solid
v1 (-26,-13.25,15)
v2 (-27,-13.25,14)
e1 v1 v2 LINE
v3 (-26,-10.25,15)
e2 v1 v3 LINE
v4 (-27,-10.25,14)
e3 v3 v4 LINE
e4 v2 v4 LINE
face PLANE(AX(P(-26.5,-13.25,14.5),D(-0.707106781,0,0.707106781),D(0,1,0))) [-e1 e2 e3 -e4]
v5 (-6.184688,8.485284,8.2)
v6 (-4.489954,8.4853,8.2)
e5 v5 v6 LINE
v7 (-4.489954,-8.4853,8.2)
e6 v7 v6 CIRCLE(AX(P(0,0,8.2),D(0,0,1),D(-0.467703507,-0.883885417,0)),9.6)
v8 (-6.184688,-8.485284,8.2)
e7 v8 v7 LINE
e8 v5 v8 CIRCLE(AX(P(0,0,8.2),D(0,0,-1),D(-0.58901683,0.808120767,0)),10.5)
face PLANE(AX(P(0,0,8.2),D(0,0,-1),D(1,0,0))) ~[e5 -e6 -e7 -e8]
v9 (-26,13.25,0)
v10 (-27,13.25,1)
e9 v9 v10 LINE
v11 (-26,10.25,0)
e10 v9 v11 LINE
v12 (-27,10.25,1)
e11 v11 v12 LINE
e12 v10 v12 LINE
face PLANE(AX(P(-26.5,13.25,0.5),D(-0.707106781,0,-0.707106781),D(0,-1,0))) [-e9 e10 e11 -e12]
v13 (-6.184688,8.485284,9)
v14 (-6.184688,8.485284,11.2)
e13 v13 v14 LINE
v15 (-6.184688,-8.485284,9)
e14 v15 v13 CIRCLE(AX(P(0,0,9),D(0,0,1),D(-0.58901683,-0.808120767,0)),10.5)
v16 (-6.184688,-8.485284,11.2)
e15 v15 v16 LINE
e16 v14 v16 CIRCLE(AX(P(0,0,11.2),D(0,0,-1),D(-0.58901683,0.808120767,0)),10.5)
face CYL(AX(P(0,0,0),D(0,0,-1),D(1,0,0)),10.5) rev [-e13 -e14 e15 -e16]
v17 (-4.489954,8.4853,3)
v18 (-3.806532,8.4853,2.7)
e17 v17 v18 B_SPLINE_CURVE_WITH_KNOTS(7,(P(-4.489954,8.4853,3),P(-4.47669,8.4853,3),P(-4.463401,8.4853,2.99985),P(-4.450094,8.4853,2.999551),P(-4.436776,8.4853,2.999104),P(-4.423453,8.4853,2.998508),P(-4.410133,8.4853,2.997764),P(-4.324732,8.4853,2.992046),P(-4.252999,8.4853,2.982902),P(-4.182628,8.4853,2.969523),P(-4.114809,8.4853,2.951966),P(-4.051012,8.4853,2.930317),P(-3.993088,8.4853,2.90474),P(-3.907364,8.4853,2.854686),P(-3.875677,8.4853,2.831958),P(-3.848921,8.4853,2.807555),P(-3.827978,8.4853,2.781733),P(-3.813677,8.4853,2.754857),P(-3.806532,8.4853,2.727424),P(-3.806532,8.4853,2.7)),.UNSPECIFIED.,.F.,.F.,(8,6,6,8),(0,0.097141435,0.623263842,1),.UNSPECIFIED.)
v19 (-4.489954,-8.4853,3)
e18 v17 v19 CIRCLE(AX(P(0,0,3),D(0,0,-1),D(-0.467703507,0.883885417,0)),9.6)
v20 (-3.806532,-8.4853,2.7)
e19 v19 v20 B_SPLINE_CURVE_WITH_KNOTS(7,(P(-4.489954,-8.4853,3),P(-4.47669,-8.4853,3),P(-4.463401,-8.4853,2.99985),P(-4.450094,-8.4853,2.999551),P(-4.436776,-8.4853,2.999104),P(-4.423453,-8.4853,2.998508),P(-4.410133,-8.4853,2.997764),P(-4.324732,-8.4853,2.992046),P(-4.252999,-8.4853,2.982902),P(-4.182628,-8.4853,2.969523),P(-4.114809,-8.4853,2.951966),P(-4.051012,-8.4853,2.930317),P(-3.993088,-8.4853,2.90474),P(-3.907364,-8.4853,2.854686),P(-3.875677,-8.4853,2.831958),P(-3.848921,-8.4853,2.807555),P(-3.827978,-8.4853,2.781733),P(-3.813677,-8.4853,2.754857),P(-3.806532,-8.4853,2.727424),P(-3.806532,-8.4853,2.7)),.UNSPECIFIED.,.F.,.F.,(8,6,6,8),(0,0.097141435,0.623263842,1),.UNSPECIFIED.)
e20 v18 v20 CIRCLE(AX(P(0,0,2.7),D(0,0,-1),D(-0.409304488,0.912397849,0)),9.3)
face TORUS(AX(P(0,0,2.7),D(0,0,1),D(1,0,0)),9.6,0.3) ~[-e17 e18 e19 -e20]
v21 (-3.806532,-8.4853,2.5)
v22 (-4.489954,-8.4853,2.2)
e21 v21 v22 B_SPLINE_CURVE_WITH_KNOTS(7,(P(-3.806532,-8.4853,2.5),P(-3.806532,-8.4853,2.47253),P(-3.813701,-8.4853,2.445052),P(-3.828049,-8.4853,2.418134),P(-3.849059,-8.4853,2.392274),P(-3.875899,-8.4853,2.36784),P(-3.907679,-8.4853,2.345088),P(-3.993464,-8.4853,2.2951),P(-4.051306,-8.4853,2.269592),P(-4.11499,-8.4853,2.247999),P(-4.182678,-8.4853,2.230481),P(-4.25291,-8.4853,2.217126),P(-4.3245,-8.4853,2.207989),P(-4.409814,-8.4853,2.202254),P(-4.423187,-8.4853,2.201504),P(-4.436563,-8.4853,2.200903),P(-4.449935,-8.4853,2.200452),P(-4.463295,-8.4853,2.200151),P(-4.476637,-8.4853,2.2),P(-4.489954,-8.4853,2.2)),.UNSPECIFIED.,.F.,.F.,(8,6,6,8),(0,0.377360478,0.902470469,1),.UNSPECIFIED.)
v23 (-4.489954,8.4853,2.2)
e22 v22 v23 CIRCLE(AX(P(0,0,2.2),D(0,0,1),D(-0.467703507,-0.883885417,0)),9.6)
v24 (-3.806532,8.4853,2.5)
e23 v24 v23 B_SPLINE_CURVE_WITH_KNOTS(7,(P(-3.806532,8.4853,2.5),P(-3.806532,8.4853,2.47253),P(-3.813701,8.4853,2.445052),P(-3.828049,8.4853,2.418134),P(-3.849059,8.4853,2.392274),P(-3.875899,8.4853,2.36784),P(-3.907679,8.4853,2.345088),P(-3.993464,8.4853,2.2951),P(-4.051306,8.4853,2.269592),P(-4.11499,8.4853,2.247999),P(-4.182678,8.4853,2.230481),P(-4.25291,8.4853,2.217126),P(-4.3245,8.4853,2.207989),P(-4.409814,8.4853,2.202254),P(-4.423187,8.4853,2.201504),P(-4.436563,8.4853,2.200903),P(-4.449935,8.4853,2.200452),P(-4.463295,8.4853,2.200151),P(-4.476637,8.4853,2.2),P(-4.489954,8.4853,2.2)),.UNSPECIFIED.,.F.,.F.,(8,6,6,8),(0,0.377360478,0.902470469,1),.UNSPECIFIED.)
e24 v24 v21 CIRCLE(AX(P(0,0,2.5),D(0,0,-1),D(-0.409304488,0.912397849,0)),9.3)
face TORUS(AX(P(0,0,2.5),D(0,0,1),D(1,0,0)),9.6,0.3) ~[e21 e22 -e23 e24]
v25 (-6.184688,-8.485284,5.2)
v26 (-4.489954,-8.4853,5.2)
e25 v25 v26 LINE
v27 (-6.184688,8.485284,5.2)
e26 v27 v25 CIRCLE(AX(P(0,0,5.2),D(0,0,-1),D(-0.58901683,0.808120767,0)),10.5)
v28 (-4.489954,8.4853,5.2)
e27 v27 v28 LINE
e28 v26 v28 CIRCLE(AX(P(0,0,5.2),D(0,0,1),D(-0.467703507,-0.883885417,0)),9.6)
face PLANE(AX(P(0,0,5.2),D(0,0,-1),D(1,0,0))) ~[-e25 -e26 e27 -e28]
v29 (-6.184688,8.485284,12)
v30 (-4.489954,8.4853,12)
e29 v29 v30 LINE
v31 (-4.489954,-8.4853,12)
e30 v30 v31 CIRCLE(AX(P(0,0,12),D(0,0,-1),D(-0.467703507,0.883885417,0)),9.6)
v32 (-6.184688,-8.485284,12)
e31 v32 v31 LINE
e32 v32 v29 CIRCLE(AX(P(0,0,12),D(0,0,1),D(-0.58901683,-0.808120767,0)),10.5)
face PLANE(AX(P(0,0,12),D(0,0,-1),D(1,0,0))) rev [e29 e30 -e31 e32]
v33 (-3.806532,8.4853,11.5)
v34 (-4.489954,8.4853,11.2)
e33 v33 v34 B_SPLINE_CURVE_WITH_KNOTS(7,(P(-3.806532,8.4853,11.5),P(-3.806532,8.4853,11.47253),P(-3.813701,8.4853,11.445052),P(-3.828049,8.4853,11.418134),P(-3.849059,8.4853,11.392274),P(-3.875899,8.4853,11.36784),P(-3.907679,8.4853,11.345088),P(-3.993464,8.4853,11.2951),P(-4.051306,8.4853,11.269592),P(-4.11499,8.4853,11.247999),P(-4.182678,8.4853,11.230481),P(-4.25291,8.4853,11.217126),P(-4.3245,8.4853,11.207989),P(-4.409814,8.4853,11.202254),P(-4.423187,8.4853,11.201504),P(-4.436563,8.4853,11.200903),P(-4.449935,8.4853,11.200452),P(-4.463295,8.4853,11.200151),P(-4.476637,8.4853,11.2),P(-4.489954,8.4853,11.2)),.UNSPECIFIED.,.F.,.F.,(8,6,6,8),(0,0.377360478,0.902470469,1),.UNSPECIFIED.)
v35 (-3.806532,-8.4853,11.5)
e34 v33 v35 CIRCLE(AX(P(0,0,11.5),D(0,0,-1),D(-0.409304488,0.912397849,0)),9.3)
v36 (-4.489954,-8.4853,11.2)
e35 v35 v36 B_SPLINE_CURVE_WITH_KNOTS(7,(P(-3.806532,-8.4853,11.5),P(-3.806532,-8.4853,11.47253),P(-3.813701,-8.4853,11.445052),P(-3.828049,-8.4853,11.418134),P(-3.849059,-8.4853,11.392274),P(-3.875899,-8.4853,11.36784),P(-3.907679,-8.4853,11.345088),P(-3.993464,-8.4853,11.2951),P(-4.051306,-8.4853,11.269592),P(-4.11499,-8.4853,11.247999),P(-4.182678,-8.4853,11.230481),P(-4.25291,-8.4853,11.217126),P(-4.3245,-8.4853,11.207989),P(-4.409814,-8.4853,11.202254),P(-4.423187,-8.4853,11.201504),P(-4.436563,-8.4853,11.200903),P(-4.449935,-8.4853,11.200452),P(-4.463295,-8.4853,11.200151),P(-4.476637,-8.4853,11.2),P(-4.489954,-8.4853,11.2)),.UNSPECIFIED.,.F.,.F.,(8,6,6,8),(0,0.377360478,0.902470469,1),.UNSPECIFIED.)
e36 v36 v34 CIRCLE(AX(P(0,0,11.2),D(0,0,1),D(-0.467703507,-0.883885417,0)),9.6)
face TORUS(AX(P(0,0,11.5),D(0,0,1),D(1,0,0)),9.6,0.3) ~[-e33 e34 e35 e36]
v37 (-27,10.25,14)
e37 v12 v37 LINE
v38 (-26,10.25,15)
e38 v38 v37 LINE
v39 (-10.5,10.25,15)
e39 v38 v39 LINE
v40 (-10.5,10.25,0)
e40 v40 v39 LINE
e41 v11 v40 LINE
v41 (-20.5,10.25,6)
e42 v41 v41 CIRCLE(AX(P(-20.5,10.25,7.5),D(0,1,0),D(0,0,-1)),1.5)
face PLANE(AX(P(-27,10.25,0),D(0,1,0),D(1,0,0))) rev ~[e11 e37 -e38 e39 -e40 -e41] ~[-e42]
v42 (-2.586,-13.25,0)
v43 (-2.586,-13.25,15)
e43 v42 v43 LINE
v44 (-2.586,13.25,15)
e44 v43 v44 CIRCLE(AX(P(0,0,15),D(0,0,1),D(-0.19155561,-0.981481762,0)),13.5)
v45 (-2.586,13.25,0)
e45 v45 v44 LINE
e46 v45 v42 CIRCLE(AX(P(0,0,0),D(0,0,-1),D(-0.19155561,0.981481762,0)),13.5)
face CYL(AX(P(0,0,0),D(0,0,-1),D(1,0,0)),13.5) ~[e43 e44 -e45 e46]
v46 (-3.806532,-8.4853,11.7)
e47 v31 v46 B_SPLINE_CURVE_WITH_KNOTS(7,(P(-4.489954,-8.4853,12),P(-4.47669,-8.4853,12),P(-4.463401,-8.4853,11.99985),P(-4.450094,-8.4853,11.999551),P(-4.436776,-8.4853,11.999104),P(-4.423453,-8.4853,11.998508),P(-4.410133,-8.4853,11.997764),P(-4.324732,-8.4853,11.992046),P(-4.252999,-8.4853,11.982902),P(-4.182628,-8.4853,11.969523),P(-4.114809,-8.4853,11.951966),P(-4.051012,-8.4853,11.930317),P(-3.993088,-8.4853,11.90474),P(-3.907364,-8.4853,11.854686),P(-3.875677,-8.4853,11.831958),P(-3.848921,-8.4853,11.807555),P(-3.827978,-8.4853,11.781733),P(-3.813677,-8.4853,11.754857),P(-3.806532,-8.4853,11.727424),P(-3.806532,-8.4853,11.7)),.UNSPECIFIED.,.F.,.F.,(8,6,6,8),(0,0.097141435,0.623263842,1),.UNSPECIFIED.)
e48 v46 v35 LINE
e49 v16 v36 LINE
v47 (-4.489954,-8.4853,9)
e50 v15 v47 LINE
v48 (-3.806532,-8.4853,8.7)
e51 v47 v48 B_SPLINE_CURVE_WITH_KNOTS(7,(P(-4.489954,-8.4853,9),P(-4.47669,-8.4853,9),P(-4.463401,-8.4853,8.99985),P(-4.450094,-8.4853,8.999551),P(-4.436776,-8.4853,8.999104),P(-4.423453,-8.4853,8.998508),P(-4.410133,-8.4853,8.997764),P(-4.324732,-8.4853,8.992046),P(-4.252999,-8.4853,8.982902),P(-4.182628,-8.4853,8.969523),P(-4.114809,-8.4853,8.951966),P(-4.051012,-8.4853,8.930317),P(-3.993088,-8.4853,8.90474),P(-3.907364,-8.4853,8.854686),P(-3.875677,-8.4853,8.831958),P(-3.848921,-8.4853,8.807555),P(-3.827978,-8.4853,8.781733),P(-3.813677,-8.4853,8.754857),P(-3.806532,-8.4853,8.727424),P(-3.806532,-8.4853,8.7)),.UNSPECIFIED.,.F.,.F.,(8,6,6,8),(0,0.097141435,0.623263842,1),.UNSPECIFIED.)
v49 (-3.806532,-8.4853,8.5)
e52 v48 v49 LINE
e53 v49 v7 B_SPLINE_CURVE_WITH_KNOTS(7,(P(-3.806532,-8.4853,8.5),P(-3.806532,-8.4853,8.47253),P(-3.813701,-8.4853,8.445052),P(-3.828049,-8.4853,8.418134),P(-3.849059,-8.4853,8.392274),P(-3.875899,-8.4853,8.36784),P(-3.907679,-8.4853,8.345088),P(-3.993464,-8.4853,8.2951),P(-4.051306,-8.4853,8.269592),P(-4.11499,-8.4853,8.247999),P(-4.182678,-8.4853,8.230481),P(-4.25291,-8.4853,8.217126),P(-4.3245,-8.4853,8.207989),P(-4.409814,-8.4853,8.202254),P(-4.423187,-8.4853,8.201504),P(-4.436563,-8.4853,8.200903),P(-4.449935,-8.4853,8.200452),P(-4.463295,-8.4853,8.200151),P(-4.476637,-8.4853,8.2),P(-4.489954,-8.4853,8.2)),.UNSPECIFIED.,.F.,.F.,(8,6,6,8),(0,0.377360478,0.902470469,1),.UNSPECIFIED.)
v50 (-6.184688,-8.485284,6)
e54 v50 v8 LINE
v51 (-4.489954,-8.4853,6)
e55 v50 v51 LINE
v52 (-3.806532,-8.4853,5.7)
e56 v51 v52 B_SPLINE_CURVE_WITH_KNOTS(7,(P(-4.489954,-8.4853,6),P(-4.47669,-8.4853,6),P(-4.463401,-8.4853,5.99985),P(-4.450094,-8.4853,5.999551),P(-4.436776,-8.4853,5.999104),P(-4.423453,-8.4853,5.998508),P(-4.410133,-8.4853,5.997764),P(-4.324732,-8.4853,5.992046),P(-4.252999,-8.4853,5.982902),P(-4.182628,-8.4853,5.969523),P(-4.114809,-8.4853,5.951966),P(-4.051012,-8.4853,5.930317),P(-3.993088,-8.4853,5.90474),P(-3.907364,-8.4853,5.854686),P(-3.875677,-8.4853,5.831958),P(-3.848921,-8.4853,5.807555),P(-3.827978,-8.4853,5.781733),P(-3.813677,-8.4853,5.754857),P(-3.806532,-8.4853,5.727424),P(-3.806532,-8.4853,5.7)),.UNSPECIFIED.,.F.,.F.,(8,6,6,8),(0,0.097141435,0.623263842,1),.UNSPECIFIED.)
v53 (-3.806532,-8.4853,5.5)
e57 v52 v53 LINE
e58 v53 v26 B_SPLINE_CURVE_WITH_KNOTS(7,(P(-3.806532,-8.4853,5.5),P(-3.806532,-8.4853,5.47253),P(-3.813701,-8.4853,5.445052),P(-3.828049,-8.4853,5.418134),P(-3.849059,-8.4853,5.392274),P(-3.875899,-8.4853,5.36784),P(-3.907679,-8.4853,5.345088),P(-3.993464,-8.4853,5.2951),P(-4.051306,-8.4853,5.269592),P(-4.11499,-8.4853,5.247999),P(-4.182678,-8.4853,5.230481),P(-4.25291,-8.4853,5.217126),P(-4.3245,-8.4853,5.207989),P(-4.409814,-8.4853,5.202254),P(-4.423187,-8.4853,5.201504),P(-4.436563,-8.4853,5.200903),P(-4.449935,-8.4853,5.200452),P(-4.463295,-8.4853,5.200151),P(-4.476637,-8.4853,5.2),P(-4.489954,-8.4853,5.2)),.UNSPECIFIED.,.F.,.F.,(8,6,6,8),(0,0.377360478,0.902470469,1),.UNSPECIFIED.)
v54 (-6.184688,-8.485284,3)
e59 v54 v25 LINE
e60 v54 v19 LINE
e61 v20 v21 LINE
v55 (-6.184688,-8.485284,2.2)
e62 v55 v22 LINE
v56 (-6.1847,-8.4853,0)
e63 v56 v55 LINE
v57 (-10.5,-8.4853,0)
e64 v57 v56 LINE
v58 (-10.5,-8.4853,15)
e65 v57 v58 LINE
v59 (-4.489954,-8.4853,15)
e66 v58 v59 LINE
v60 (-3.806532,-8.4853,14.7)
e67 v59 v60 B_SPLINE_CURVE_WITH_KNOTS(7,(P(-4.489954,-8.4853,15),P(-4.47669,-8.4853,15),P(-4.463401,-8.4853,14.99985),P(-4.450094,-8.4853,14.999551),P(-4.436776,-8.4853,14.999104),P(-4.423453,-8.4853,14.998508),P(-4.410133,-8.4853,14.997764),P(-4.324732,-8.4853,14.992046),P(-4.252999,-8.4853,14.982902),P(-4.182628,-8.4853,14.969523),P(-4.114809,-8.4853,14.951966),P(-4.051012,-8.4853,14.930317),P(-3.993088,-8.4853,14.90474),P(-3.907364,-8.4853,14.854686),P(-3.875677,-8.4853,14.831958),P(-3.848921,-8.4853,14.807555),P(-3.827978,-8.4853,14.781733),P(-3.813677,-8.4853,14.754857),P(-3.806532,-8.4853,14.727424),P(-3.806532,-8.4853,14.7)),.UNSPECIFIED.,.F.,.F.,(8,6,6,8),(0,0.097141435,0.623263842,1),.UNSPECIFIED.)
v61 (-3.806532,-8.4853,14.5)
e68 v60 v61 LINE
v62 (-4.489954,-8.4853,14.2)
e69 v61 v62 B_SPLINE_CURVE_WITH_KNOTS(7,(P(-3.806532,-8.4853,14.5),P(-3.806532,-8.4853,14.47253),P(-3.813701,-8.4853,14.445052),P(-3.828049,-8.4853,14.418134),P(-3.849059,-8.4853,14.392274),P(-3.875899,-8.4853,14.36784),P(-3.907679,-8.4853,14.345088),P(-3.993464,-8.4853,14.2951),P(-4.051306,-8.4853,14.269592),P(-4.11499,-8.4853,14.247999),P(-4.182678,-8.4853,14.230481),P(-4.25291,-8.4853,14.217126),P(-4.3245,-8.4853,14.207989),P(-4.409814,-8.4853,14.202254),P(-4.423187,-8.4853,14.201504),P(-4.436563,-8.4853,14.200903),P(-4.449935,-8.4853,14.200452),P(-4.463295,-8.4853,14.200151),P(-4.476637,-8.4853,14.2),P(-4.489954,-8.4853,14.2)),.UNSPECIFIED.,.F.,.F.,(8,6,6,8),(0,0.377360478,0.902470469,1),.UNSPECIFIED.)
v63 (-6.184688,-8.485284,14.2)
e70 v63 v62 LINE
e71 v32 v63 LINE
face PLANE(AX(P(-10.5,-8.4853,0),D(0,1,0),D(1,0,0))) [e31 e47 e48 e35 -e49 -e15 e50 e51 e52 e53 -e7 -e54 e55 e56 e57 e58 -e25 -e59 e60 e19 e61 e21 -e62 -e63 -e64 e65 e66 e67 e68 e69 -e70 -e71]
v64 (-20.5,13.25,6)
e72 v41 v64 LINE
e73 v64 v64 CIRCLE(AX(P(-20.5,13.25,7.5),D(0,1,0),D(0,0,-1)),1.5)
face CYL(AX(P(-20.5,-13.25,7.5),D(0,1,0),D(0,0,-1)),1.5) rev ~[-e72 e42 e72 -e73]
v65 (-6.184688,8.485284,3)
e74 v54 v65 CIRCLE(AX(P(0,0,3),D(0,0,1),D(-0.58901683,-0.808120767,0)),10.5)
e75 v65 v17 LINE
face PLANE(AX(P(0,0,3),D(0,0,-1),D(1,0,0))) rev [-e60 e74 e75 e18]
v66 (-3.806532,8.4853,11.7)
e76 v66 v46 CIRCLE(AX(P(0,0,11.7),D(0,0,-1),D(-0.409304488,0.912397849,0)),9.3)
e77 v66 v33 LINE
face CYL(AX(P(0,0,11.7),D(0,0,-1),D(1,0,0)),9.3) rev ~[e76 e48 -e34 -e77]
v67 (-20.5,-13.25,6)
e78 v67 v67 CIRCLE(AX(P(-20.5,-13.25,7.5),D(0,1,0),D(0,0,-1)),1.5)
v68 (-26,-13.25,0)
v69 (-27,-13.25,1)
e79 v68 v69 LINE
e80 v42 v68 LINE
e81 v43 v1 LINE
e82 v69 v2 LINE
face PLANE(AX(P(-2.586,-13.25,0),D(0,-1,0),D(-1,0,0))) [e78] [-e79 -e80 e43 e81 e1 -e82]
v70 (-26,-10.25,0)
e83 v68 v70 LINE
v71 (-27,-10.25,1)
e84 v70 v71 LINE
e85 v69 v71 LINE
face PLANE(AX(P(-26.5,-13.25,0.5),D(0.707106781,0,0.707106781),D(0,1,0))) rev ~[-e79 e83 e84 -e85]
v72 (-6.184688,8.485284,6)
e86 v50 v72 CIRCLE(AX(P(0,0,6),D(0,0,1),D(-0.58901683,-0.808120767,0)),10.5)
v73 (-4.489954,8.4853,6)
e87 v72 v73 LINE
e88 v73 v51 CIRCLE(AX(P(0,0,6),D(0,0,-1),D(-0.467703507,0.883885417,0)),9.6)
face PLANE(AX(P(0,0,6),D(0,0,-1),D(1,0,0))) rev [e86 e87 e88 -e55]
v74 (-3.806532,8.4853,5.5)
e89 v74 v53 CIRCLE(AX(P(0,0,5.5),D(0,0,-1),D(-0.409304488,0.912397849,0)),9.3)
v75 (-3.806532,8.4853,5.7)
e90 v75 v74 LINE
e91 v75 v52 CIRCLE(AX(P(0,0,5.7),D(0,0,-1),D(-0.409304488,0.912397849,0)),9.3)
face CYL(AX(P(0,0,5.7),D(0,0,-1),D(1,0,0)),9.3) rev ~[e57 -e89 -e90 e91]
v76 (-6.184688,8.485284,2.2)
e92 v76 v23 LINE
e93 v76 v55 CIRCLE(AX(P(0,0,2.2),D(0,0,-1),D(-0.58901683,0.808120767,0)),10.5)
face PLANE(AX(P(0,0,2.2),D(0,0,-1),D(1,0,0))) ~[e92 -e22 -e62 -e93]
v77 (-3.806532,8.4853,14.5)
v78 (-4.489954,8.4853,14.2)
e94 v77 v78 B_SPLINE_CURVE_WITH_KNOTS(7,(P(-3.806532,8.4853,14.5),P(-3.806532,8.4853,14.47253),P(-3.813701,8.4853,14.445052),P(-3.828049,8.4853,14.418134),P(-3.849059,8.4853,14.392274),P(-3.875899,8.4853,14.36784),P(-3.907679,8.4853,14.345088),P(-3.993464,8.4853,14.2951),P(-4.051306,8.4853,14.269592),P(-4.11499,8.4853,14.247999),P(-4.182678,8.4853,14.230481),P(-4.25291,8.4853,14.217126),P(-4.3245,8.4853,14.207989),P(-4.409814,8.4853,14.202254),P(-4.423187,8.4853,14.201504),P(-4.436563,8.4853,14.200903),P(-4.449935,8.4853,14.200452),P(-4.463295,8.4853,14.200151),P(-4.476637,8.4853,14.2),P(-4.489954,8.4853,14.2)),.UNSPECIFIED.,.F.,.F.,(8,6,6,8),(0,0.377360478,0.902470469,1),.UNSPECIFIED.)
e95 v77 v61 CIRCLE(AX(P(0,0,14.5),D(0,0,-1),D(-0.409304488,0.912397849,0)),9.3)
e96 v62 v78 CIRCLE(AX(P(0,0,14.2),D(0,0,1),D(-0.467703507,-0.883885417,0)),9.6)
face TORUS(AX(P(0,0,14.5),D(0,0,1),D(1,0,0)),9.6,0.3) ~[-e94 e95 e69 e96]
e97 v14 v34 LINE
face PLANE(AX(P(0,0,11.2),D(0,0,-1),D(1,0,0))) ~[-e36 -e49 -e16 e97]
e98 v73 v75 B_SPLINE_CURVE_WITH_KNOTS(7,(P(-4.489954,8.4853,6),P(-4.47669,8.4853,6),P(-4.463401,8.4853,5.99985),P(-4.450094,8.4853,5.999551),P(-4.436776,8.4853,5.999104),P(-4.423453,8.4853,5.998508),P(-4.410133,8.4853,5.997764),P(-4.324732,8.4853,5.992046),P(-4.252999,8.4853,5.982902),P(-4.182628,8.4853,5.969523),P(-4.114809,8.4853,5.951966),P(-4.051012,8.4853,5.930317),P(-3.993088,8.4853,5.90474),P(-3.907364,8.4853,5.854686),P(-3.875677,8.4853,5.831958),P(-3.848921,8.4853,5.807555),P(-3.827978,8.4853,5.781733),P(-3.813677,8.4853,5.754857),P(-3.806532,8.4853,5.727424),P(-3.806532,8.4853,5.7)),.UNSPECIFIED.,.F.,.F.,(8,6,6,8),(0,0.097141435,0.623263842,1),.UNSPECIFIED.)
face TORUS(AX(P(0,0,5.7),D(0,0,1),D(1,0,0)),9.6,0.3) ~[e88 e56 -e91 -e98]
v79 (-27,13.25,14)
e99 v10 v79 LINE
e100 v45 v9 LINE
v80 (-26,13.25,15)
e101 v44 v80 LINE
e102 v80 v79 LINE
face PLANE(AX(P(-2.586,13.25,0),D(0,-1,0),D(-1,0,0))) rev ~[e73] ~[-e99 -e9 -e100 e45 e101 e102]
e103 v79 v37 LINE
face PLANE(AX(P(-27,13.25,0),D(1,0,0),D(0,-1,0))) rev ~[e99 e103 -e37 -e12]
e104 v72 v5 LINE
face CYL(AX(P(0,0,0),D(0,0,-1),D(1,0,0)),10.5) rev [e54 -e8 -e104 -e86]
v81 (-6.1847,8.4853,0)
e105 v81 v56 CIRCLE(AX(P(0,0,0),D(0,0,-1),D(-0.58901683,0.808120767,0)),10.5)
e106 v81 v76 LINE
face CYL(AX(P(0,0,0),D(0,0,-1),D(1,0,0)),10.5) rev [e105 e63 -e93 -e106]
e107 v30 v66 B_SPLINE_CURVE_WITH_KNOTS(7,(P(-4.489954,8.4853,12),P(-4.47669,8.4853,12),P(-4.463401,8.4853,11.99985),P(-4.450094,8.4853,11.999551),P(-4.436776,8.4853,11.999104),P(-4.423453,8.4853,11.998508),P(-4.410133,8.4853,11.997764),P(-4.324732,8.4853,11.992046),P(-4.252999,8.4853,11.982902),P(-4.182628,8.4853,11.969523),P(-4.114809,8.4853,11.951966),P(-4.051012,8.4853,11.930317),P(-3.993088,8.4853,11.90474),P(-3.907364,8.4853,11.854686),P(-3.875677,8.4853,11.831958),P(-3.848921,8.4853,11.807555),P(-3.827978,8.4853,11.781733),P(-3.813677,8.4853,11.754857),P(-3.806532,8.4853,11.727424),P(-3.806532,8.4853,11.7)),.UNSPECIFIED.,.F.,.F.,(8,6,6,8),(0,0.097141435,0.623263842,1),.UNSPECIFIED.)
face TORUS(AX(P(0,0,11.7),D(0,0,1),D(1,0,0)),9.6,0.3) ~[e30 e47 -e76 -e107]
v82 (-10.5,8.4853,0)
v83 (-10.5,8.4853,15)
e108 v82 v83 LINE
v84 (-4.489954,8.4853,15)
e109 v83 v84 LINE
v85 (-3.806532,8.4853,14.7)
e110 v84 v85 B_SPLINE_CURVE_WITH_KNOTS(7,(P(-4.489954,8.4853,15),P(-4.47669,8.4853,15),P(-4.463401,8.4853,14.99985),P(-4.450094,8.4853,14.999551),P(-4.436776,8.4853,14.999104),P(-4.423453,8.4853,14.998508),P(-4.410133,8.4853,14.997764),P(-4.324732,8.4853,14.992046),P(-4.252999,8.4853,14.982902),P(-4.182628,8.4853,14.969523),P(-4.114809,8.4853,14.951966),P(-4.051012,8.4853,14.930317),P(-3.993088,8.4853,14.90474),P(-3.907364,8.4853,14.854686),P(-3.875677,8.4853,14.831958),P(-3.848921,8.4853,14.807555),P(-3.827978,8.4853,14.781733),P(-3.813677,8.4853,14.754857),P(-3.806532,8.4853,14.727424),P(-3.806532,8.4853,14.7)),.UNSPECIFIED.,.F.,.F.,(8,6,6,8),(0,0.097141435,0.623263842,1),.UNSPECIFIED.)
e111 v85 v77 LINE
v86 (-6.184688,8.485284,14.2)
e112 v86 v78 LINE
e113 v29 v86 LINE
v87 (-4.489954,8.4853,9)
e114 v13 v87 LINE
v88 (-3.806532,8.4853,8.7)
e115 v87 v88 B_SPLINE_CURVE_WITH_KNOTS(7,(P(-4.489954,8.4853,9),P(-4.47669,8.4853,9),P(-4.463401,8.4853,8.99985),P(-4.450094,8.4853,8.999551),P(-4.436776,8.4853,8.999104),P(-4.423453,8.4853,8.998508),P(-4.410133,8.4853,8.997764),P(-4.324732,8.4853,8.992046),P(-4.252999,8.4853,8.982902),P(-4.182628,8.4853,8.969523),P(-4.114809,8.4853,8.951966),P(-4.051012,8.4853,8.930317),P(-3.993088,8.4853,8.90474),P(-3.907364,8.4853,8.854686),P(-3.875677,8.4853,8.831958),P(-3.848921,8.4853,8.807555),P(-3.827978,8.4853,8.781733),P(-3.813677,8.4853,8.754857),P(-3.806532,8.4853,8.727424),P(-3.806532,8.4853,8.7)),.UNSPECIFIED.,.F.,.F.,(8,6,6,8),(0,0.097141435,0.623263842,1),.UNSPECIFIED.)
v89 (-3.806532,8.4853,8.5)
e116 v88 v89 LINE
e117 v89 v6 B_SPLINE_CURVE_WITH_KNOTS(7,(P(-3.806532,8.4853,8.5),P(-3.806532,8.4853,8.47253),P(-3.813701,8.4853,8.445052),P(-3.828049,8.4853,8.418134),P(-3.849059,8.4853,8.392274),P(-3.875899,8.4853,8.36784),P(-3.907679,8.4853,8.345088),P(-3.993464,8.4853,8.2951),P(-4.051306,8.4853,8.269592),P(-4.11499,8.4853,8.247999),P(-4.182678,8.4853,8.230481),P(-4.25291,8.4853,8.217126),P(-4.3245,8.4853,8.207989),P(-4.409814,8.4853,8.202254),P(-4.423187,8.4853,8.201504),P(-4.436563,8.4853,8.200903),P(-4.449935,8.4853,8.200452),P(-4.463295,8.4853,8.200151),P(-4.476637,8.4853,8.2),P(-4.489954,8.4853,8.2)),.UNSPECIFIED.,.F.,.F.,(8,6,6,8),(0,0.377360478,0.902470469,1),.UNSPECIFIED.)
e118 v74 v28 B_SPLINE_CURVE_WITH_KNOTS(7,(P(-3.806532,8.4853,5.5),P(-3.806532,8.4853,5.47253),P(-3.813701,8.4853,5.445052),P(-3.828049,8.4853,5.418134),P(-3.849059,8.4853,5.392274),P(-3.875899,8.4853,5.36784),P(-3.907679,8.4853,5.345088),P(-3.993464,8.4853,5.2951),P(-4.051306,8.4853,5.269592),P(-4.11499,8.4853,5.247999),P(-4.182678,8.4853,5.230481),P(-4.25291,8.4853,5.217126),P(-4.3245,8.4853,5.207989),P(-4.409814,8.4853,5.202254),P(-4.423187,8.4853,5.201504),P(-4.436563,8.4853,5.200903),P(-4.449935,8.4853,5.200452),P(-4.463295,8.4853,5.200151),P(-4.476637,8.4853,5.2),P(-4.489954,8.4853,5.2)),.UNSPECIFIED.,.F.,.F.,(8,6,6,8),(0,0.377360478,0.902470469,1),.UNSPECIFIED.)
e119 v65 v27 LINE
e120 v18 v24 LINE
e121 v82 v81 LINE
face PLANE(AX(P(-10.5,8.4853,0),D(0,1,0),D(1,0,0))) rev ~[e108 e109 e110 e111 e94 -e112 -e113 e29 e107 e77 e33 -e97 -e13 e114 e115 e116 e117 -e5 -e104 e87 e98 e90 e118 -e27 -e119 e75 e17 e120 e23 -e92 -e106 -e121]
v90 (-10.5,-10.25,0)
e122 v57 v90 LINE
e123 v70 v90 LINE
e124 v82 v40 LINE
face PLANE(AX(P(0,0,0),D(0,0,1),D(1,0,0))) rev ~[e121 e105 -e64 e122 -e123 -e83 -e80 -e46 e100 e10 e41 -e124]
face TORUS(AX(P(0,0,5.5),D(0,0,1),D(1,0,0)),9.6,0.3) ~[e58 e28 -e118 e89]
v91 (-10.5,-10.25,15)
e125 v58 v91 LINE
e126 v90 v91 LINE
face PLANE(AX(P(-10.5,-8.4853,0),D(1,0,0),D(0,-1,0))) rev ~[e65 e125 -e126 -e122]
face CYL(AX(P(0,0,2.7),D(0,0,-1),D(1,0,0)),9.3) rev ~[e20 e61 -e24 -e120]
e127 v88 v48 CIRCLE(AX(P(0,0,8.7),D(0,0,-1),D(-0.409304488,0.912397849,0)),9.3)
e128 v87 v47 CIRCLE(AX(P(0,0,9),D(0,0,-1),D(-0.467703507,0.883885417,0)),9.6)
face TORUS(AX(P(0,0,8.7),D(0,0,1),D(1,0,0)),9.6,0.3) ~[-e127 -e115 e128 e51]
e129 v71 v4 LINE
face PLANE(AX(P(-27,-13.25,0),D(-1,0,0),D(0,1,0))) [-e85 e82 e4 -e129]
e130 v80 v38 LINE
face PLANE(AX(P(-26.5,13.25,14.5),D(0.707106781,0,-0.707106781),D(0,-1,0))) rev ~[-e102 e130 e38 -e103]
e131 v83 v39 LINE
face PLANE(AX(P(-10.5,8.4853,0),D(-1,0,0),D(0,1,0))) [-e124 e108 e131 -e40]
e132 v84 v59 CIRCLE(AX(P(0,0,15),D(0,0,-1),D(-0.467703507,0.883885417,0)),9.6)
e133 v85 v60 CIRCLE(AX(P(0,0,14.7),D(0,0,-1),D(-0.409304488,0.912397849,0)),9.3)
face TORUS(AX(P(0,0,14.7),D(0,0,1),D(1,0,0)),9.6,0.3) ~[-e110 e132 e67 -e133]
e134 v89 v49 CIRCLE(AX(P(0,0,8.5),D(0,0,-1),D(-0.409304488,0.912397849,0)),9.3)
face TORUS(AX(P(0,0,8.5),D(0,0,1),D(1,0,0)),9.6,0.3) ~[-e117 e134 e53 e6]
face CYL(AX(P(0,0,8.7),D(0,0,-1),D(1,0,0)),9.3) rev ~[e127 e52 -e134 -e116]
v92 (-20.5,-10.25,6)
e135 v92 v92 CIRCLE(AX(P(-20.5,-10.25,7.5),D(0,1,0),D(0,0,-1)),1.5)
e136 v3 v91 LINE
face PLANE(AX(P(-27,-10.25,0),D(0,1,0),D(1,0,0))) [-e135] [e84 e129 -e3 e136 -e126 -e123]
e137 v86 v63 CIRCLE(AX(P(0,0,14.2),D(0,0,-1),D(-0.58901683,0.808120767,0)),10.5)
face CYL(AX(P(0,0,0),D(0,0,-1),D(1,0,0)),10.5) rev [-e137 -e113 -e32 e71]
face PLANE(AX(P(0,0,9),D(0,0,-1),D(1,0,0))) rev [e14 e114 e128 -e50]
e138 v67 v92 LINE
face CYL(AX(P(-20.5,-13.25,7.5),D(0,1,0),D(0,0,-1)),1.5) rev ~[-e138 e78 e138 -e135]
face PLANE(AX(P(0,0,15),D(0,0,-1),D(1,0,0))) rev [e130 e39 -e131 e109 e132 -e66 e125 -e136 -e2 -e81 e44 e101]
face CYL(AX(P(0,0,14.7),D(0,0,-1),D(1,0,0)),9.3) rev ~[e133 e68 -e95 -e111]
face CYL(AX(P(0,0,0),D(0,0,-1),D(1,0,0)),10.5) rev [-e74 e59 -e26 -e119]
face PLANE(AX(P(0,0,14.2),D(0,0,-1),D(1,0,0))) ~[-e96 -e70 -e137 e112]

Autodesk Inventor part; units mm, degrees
ref_plane "YZ Plane" through (0, 0, 0) normal (1, 0, 0) x (0, 1, 0)
ref_plane "XZ Plane" through (0, 0, 0) normal (0, 1, 0) x (-1, 0, 0)
sketch "Szkic1" plane through (0, 0, 0) normal (0, 0, 1) x (1, 0, 0)
  circle A0 centre (0, 0) radius 10.5
  circle A1 centre (0, 0) radius 13.5
  line L0 (-2.586, 13.25) -> (-27, 13.25)
  line L1 (-27, 13.25) -> (-27, 10.25)
  line L2 (-27, 10.25) -> (-8.7856, 10.25)
  line L3 (-2.586, -13.25) -> (-27, -13.25)
  line L4 (-27, -13.25) -> (-27, -10.25)
  line L5 (-27, -10.25) -> (-8.7856, -10.25)
  line L6 (-10.5, -8.4853) -> (-10.5, -10.25)
  line L7 (-10.5, 8.4853) -> (-10.5, 10.25)
  line L8 (-10.5, 8.4853) -> (-6.1847, 8.4853)
  line L9 (-10.5, -8.4853) -> (-6.1847, -8.4853)
  dimension "d0" = 21
  dimension "d1" = 3
  dimension "d3" = 3
  dimension "d5" = 3
  dimension "d6" = 20.5
  dimension "d8" = 0.25
  dimension "d31" = 16.5
  dimension "d32" = 16.5
extrude "Wyciągnięcie proste2" add sketch "Szkic1" along normal blind 15 contours A0 L8 A1 L9 | L7 L2 A1 | A1 L5 L6 | L2 L1 L0 A1 | A1 L3 L4 L5 picked at (12.3911, -0.984)
ref_plane "Płaszczyzna konstrukcyjna1" through (-27, 0, 0) normal (0, -1, 0) x (1, 0, 0)
sketch "Szkic2" plane through (-27, 0, 0) normal (0, -1, 0) x (1, 0, 0)
  line L0 (24.414, 0) -> (24.414, 15) projected
  line L1 (24.414, 15) -> (24.414, 15) projected
  line L2 (24.414, 0) -> (24.414, 15) projected
  line L3 (24.414, 0) -> (24.414, 0) projected
  line L4 (37.5, 15) -> (37.5, 0) projected
  line L5 (20.8153, 15) -> (37.5, 15) projected
  line L6 (37.5, 15) -> (36.6, 15)
  line L7 (36.3, 14.7) -> (36.3, 14.5)
  line L8 (36.6, 14.2) -> (37.5, 14.2)
  arc A0 (36.6, 15) -> (36.3, 14.7) centre (36.6, 14.7) ccw
  arc A1 (36.3, 14.5) -> (36.6, 14.2) centre (36.6, 14.5) ccw
  line L9 (27, 18.0746) -> (27, -3.0124) projected
  point P0 (27, 0)
  point P1 (36.3, 15)
  point P2 (36.3, 14.2)
  dimension "d14" = 1.2
  dimension "d15" = 0.8
  dimension "d16" = 0.3
revolve "Obrót1" add sketch "Szkic2" angle 360 about axis through (0, 0, 15) along (0, 0, -1)
pattern_linear "Szyk prostokątny1" count 5 spacing 3 along (0, 0, -1) of "Obrót1"
sketch "Szkic3" plane through (-10.5, 8.4853, 0) normal (-1, 0, 0) x (0, 0, 1)
  line L0 (0, 1.7647) -> (0, 0) projected
  line L1 (0, 0) -> (15, 0) projected
  line L2 (15, 1.7647) -> (15, 0) projected
  line L3 (0, 1.7647) -> (15, 1.7647) projected
  line L4 (0, -16.9706) -> (0, -18.7353) projected
  line L5 (0, -18.7353) -> (15, -18.7353) projected
  line L6 (15, -16.9706) -> (15, -18.7353) projected
  line L7 (0, -16.9706) -> (15, -16.9706) projected
  line L8 (15, 1.7647) -> (15, 0) projected
  line L9 (15, 0) -> (15, -16.9706)
  line L10 (15, 2.0147) -> (15, -16.9706) projected
  line L11 (0, 0) -> (0, -16.9706)
  point P0 (0, -8.4853)
  point P1 (15, -8.4853)
extrude "Wyciągnięcie proste3" cut sketch "Szkic3" against normal blind 10 contours L1 L9 L7 L11
chamfer "Faza1" distance 1 angle 45 4 edges at (-27, 11.75, 0) (-27, 11.75, 15) (-27, -11.75, 15) (-27, -11.75, 0)
sketch "Szkic4" plane through (-2.586, -13.25, 0) normal (0, -1, 0) x (1, 0, 0)
  line L0 (-23.414, 0) -> (-24.414, 1) projected
  line L1 (-23.414, 0) -> (0, 0) projected
  line L2 (0, 0) -> (0, 15) projected
  line L3 (-23.414, 15) -> (0, 15) projected
  line L4 (-24.414, 14) -> (-23.414, 15) projected
  line L5 (-24.414, 1) -> (-24.414, 14) projected
  point P0 (2.586, 0)
  point P1 (-17.914, 7.5)
  dimension "d36" = 6.5
  dimension "d37" = 7.5
  dimension "d38" = 15
hole "Otwór1" at (-20.5, -13.25, 7.5) direction (0, 1, 0) diameter 3 end through all
equation "\"d32\" = d31"
equation "\"d37\" = 0.5 * d38"
properties part number "3DP_ABS_Cable_Pipe_Mount"
